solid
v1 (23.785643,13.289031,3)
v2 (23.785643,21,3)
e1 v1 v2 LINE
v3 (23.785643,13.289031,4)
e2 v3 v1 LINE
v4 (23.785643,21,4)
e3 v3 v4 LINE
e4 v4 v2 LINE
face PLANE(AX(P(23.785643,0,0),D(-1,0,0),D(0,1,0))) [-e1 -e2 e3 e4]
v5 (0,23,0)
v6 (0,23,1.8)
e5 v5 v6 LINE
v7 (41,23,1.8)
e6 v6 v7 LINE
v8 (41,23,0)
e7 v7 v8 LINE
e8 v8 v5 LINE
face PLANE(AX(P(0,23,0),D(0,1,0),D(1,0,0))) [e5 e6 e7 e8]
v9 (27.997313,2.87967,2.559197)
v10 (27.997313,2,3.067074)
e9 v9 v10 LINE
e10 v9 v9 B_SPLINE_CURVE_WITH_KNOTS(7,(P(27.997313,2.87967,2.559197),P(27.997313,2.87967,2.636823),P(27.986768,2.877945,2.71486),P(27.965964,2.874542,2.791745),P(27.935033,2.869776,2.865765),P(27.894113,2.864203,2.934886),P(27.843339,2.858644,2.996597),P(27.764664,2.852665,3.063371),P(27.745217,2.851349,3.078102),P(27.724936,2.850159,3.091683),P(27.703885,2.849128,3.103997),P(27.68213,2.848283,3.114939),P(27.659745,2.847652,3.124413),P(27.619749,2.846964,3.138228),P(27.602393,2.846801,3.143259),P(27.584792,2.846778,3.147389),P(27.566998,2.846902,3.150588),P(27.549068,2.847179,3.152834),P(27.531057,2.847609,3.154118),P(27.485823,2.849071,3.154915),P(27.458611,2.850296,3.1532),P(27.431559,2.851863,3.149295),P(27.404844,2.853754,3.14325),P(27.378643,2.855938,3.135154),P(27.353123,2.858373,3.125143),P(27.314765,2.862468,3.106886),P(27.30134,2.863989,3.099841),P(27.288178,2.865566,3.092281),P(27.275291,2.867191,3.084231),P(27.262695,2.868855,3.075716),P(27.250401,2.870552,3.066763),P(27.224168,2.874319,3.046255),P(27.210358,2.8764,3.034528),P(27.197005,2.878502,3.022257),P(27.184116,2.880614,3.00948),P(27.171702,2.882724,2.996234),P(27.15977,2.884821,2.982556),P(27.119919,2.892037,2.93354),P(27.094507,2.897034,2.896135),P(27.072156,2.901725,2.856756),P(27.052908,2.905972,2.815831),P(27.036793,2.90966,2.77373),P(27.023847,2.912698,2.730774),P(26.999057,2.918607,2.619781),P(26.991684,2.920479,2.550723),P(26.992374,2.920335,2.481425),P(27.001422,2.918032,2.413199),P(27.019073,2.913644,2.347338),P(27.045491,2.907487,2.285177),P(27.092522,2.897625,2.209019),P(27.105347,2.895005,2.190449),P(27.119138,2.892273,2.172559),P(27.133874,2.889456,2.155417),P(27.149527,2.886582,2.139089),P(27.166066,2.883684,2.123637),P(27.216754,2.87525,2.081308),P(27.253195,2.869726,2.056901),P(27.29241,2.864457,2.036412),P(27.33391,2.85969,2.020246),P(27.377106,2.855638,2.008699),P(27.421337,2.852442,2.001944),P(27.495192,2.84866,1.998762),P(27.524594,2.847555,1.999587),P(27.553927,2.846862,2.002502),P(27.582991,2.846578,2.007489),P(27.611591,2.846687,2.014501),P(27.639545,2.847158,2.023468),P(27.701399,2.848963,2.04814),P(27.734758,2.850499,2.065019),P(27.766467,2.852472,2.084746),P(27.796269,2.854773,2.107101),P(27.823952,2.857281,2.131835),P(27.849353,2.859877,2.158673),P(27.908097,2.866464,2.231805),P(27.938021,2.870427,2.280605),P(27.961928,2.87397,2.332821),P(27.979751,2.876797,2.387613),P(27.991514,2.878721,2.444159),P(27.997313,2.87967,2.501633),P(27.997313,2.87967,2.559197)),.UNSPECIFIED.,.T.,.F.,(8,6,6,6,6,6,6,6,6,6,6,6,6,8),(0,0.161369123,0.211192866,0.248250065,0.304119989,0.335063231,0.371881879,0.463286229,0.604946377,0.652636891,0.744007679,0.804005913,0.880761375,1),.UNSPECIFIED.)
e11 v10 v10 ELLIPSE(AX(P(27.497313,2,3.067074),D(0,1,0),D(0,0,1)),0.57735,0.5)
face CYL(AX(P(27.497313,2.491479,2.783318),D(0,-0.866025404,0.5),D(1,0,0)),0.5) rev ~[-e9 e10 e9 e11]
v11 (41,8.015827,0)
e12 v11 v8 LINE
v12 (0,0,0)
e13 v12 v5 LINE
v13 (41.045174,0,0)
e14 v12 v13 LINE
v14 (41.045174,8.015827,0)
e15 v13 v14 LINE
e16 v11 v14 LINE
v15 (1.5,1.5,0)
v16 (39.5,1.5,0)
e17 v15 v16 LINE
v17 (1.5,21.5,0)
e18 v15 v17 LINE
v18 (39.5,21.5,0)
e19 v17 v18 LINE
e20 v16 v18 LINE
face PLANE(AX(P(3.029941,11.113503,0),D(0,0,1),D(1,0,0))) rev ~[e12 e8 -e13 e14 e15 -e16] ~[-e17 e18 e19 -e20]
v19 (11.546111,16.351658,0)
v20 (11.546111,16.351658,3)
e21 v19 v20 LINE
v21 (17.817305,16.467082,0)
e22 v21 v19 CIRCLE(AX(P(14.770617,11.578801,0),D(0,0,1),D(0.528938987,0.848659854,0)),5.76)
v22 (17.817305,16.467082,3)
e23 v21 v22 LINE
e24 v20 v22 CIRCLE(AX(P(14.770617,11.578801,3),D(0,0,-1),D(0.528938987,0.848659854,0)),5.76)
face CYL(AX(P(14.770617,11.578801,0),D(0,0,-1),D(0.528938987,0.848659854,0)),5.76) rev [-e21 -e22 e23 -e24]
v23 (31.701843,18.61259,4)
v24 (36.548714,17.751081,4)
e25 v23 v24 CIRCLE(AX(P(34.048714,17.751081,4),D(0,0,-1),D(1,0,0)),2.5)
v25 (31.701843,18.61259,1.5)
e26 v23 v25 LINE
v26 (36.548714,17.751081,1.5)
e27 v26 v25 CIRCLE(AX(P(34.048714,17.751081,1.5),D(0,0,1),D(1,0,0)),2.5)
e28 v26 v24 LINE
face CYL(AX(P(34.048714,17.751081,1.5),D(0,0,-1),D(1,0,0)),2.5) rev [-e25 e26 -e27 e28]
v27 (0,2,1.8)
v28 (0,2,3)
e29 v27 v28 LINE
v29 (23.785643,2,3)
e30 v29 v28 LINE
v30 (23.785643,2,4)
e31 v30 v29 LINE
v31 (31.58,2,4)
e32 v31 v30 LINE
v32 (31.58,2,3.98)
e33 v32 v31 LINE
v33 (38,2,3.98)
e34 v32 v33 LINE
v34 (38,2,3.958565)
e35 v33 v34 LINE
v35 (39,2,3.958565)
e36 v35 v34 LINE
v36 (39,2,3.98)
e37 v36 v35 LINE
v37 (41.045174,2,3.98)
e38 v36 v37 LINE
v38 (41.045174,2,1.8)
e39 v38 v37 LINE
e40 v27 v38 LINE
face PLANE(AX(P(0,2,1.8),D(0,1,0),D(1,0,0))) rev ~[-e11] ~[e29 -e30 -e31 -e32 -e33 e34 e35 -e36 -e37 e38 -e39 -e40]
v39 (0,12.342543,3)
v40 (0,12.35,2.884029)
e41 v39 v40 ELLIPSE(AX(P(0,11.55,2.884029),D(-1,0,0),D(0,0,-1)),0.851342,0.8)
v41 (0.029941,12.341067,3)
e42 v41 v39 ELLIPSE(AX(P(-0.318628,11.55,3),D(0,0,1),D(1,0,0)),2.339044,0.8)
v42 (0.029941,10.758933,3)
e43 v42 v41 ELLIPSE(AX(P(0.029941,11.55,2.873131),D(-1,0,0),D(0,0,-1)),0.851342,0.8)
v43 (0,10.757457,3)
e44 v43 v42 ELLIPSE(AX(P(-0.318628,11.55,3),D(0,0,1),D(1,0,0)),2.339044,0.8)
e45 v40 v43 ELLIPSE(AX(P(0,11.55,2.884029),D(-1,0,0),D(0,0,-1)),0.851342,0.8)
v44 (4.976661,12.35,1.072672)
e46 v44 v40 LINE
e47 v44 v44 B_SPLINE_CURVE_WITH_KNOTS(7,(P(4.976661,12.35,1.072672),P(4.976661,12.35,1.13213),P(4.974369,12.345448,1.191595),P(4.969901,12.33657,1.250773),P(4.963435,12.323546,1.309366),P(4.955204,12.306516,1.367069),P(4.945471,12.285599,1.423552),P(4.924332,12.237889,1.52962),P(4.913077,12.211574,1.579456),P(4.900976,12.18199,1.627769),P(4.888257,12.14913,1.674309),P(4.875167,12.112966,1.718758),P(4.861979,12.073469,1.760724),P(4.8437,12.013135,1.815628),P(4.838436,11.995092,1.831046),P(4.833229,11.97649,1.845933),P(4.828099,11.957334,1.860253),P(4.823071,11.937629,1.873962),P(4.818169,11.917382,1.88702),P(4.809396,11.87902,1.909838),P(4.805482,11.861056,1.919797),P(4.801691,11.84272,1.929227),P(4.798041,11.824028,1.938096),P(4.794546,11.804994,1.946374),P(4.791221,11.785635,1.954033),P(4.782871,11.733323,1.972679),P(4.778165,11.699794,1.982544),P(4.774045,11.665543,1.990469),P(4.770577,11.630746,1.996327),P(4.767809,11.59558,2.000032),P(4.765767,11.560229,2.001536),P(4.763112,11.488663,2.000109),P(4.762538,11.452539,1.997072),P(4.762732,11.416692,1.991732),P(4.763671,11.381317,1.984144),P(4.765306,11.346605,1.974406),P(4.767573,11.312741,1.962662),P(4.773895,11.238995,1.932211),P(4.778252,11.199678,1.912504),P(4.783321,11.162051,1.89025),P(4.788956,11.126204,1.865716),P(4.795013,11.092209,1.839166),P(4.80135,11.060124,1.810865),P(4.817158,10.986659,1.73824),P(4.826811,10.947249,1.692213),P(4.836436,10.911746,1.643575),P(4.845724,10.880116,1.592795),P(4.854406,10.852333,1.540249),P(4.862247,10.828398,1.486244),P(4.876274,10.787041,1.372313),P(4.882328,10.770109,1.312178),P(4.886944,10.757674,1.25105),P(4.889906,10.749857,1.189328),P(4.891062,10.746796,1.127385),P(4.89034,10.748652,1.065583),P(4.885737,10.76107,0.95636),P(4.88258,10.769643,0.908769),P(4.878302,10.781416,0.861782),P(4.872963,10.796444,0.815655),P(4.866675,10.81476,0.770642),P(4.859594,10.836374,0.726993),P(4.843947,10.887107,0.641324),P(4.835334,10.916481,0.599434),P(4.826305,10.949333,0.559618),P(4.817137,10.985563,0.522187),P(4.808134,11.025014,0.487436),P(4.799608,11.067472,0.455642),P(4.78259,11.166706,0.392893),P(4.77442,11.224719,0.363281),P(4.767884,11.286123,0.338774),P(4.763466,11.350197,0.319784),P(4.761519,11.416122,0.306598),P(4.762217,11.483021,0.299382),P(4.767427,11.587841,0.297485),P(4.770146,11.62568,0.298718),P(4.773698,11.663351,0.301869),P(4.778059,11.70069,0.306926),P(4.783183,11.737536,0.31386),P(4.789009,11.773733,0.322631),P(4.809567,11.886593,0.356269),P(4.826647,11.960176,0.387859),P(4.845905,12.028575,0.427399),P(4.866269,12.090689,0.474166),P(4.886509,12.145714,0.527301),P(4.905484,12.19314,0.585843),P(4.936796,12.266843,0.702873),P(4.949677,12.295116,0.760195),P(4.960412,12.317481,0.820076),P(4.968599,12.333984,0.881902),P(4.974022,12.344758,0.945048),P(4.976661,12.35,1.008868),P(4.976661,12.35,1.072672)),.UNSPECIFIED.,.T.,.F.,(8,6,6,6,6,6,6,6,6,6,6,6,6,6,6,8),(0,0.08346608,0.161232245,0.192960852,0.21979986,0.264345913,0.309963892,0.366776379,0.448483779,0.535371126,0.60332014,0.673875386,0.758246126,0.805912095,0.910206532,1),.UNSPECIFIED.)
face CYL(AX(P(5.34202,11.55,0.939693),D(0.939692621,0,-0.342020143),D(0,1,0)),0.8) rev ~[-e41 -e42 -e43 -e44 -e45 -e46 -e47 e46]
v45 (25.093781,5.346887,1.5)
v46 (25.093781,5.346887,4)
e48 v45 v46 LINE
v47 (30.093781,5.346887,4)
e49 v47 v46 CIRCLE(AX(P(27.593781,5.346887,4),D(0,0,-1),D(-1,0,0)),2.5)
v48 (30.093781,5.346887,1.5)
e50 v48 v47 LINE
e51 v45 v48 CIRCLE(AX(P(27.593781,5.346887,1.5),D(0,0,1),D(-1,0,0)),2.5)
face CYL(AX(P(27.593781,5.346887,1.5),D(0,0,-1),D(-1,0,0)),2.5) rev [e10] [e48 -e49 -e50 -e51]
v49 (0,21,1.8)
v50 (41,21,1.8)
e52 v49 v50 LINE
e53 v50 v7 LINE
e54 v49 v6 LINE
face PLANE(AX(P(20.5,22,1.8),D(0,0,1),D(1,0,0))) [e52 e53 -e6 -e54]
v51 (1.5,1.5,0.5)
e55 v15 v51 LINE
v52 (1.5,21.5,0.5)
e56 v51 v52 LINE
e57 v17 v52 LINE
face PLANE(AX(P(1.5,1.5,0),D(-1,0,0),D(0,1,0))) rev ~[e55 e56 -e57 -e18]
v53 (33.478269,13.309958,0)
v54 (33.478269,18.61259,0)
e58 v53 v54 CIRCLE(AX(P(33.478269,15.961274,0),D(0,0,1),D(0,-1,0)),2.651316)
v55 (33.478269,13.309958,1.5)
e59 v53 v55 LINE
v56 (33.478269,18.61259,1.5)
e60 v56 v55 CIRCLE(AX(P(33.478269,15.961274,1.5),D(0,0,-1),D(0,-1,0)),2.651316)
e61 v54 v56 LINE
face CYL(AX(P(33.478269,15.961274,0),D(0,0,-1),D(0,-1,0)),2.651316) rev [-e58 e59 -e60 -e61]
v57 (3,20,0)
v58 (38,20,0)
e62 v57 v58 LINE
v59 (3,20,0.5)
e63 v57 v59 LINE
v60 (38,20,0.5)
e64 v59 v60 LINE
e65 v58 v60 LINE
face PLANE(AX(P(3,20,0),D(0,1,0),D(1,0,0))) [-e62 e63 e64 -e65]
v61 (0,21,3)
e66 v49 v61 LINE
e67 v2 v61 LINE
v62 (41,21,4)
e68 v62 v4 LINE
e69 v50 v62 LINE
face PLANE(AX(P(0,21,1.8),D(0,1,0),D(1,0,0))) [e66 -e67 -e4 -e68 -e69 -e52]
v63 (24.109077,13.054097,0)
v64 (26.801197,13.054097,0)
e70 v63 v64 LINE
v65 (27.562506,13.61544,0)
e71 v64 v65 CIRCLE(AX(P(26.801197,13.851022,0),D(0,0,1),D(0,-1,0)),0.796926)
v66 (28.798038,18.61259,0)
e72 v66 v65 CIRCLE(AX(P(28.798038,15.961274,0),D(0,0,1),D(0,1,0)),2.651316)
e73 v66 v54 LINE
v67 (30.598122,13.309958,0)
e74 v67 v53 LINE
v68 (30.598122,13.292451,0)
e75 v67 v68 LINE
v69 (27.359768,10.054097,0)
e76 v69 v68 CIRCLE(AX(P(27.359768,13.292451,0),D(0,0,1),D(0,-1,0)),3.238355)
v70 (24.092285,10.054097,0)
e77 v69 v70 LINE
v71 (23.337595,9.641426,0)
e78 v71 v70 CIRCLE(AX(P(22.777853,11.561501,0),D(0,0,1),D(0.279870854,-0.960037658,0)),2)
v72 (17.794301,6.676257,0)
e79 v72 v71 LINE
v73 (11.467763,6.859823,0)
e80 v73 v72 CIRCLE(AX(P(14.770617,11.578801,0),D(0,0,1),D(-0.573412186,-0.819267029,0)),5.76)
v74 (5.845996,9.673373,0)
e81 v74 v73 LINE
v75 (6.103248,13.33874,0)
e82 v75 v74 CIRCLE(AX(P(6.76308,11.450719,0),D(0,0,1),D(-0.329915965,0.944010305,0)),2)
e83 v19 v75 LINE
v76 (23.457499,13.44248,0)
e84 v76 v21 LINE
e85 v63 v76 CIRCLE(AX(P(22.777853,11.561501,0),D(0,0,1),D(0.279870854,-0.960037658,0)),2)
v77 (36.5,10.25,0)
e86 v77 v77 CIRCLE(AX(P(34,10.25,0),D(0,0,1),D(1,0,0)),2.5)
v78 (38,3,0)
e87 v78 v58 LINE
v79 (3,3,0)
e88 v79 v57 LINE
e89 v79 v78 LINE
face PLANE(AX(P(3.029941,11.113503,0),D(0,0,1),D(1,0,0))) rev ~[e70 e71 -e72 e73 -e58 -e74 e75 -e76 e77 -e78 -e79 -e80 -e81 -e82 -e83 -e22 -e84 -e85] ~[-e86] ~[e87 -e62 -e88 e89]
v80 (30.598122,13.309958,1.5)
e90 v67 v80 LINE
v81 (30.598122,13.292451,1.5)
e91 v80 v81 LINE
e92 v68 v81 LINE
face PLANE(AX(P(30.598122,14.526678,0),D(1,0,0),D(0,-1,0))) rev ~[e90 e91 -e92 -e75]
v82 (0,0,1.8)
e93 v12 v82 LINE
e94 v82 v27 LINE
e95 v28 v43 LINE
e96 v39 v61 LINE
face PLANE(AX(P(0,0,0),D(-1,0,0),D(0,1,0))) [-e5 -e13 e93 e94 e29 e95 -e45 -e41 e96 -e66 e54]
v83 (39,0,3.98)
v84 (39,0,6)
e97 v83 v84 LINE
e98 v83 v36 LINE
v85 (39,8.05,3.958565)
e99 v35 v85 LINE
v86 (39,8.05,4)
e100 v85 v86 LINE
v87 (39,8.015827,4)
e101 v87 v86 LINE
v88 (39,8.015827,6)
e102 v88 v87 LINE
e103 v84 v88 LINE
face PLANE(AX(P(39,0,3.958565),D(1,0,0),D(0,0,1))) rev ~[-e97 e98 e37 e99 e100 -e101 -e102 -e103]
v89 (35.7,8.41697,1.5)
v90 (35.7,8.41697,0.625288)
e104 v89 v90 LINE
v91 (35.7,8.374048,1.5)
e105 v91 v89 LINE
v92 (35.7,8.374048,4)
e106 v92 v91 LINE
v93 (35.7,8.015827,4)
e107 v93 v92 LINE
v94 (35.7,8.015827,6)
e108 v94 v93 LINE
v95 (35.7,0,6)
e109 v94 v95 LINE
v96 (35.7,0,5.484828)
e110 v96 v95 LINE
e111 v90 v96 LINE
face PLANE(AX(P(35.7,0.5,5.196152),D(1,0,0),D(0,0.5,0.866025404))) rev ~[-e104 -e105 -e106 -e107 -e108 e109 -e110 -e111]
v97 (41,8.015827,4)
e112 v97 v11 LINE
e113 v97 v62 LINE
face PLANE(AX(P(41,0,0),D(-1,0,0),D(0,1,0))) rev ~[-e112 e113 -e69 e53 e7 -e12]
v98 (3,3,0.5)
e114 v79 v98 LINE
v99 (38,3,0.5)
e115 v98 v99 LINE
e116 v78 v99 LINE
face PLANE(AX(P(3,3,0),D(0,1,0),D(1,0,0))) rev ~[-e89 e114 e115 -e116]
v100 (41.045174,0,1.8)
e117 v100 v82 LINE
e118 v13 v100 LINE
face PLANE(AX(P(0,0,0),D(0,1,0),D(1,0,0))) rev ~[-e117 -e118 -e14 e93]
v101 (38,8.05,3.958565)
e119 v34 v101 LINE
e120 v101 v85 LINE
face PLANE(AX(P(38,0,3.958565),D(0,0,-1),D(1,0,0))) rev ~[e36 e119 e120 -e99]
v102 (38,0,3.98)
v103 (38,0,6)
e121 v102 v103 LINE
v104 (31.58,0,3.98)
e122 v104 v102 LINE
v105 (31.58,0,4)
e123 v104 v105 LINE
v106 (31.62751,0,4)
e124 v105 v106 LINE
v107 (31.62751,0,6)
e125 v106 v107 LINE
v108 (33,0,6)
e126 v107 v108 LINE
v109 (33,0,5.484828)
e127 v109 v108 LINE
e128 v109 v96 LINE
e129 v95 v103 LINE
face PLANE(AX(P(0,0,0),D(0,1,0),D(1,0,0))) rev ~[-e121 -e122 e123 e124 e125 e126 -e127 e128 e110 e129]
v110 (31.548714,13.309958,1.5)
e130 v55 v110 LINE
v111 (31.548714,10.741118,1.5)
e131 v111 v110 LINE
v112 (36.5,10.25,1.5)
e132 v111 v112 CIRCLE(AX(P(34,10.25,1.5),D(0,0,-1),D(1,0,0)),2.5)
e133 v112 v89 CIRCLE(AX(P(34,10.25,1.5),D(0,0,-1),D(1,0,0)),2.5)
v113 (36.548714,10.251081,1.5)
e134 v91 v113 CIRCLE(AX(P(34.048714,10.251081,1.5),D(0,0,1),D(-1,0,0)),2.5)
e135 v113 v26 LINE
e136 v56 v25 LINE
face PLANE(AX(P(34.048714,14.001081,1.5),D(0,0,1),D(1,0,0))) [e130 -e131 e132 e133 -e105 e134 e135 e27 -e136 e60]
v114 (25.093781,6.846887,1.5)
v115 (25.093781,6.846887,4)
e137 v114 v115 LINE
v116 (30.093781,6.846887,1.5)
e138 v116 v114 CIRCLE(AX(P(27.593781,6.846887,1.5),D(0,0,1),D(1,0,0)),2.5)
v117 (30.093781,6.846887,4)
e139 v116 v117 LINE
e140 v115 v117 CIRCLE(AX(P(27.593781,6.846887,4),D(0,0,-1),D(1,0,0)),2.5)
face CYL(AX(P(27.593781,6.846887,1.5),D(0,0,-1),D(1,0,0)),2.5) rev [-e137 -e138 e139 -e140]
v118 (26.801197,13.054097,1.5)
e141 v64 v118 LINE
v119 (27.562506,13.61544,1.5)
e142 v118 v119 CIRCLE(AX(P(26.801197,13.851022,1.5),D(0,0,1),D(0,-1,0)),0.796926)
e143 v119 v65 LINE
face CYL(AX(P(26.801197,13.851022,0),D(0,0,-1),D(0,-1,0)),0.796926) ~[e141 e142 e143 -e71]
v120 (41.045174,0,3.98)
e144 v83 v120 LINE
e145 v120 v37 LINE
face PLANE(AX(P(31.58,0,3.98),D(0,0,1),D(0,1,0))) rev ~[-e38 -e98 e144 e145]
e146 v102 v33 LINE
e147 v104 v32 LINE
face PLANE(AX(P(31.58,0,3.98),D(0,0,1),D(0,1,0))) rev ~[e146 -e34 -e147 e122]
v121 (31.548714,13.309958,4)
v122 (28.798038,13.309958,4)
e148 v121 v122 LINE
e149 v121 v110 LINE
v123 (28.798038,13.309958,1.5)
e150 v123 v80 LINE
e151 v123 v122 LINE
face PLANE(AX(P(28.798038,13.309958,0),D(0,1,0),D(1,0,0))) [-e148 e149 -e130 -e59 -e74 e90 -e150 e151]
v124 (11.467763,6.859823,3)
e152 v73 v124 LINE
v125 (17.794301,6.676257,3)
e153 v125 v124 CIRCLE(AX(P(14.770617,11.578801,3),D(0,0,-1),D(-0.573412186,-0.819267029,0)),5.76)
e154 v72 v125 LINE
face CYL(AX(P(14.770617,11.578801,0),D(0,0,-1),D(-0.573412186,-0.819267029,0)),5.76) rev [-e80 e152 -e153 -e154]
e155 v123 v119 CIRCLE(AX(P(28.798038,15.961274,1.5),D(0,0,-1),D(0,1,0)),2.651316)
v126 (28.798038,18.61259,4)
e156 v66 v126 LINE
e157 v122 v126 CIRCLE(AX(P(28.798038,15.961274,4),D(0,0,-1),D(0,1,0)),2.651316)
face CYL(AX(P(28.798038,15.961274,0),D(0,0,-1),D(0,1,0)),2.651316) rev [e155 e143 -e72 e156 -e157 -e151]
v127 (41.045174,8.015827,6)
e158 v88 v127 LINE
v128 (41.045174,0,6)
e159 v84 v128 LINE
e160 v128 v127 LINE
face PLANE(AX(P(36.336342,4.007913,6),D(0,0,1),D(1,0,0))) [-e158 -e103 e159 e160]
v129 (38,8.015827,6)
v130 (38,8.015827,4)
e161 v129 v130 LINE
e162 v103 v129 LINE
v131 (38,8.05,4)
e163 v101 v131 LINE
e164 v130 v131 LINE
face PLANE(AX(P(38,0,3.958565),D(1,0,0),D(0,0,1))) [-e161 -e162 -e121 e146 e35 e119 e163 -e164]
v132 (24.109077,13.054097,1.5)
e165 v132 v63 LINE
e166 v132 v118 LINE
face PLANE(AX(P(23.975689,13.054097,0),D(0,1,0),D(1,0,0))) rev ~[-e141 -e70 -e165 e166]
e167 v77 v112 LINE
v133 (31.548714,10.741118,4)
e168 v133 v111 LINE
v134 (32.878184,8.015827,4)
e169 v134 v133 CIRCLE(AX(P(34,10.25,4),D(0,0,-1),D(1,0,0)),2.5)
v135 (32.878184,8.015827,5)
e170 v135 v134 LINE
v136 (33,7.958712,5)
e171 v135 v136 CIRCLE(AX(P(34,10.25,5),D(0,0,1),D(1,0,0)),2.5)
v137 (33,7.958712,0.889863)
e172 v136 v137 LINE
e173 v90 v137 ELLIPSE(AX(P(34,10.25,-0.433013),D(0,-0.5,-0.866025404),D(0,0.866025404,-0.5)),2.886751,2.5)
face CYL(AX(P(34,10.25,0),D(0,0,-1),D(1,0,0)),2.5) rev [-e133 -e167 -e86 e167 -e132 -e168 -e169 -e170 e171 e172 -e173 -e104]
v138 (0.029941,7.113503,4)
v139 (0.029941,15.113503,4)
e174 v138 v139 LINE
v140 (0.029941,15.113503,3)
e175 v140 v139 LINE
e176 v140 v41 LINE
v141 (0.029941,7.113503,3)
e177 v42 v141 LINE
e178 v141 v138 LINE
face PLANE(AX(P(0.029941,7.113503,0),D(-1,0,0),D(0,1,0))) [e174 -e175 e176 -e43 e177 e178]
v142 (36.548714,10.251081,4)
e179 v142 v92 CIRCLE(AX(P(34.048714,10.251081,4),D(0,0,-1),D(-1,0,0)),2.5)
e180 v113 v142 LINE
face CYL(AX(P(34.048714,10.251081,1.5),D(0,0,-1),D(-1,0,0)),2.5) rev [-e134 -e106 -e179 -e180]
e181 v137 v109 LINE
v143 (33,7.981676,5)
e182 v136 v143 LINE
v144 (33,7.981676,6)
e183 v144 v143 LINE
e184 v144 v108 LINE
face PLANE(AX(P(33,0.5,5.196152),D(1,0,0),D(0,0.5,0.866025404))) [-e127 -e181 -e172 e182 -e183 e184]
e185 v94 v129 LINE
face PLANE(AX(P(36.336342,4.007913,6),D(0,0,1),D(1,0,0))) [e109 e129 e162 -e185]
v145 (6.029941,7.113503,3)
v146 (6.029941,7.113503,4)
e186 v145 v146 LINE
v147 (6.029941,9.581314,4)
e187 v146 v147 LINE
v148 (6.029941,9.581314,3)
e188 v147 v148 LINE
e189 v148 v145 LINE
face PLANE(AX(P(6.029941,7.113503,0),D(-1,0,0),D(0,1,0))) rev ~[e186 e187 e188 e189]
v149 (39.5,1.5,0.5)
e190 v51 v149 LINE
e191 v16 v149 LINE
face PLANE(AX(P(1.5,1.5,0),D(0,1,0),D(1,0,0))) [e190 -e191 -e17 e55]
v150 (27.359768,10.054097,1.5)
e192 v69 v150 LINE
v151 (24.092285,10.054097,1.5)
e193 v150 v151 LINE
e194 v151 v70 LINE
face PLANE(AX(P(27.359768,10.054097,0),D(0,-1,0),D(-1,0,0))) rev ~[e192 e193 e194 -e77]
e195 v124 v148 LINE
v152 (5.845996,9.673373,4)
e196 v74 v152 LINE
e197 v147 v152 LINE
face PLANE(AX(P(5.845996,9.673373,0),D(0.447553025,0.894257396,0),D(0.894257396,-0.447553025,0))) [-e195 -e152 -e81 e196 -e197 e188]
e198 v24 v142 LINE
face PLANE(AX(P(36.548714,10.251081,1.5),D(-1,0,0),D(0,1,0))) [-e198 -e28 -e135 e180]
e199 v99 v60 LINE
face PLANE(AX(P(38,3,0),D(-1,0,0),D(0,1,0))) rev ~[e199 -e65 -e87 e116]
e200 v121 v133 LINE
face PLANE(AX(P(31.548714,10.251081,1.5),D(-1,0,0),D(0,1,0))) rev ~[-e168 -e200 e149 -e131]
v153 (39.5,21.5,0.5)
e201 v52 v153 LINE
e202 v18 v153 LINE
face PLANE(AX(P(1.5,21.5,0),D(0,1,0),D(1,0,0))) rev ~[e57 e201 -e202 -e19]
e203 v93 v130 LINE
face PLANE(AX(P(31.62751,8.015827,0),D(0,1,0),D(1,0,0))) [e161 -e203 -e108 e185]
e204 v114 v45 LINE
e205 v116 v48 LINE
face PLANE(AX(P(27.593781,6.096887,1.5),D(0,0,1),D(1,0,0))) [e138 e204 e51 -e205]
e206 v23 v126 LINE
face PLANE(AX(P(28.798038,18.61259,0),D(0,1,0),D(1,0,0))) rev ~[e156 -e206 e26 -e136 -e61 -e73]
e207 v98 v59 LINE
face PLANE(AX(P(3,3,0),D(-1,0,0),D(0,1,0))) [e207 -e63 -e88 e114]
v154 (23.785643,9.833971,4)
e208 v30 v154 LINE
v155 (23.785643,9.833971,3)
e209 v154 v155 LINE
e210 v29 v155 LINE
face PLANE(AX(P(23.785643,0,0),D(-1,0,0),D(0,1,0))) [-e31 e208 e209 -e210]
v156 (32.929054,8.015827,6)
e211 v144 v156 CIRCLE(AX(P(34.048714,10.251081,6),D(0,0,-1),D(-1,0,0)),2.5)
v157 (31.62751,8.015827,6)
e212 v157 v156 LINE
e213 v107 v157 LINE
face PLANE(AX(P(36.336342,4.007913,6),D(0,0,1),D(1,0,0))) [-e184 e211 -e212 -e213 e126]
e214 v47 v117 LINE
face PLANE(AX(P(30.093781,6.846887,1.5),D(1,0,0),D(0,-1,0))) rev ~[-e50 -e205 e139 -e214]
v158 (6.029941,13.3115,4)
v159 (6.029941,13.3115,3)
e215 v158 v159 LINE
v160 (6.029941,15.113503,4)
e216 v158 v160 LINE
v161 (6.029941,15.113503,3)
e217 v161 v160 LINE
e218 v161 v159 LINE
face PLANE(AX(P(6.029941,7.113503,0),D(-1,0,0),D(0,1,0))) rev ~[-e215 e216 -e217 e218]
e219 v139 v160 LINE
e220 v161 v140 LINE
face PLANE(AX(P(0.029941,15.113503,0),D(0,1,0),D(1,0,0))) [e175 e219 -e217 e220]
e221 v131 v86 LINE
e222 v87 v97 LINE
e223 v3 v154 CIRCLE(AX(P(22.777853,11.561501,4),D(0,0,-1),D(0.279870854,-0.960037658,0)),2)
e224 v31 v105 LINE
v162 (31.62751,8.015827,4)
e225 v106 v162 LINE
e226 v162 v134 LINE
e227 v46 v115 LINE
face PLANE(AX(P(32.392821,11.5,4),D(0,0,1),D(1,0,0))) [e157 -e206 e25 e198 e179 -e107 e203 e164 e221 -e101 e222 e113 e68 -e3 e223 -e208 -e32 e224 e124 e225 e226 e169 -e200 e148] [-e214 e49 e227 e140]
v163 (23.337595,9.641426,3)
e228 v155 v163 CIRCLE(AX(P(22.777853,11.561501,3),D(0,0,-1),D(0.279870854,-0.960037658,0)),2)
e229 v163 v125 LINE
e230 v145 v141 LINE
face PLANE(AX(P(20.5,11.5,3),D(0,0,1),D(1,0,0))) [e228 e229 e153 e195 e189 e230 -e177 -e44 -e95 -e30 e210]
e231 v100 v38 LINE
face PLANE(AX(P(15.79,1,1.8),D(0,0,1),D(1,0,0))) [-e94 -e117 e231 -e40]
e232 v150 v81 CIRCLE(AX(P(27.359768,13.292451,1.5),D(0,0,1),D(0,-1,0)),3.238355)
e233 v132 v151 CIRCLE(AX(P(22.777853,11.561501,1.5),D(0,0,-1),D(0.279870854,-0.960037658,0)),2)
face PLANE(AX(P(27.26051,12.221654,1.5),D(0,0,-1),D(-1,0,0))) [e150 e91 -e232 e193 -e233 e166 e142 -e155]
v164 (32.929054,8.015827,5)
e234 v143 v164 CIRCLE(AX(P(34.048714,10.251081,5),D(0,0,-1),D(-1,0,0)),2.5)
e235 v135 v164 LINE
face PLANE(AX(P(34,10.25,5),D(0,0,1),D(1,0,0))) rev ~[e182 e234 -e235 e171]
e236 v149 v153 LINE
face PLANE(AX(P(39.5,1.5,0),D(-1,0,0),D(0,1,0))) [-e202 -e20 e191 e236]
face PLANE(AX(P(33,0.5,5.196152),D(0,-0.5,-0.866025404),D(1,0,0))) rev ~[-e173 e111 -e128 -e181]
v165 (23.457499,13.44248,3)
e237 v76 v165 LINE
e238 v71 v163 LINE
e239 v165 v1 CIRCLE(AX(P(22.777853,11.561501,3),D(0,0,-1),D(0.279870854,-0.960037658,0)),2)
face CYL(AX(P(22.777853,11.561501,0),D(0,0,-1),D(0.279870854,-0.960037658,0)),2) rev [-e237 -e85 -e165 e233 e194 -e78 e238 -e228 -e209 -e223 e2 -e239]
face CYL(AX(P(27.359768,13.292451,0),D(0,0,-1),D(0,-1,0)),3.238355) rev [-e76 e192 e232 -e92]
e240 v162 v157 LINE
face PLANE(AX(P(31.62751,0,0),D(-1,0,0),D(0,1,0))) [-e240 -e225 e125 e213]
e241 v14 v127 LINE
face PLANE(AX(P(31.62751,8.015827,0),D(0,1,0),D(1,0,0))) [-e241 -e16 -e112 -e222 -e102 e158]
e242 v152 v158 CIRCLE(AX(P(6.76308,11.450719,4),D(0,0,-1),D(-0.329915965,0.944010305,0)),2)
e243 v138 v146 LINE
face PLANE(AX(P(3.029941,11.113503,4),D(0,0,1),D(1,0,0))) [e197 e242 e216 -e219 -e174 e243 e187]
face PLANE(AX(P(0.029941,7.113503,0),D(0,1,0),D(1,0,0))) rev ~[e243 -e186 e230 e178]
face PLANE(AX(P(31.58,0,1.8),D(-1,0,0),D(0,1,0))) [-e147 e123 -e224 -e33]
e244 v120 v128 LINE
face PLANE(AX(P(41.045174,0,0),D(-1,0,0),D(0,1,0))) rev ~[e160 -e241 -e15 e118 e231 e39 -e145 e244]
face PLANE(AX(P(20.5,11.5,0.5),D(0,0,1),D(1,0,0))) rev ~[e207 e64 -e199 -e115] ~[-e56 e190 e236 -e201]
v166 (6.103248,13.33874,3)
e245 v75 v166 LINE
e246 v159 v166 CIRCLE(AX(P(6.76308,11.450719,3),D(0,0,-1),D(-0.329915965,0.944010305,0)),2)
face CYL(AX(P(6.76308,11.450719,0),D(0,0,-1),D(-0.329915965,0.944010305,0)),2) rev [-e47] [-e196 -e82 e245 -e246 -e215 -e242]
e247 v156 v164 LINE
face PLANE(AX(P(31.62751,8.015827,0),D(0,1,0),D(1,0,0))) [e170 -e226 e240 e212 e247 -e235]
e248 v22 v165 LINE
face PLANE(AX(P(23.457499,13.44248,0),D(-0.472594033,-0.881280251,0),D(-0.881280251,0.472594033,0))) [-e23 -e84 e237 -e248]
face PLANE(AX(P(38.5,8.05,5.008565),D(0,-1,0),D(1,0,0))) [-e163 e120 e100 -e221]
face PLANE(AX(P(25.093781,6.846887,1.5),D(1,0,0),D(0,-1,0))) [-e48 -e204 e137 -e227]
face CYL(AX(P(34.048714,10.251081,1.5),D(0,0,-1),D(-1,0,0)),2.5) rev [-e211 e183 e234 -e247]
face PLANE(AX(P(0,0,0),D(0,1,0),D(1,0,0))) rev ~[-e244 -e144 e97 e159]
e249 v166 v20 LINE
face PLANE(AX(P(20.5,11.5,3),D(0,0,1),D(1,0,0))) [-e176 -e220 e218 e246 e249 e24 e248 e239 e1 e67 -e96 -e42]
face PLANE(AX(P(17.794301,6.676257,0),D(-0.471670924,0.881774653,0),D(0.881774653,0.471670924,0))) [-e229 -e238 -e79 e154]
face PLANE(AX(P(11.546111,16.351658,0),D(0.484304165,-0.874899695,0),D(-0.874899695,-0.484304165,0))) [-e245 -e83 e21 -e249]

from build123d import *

# Parameters (mm, degrees)
SKETCH008_W          = 9.417664
SKETCH008_H          = 8.015827
PAD_DEPTH            = 6
SKETCH007_W          = 17.214357
SKETCH007_H          = 23
PAD001_DEPTH         = 4
SKETCH_W             = 41
SKETCH_H             = 23
PAD002_DEPTH         = 3
SKETCH009_W          = 6
SKETCH009_H          = 8
PAD003_DEPTH         = 4
POCKET_DEPTH         = 1.5
POCKET001_DEPTH      = 5
POCKET002_DEPTH      = 5
POCKET003_DEPTH      = 5
POCKET004_DEPTH      = 5
SKETCH004_R          = 2.5
POCKET005_DEPTH      = 5
SKETCH010_W          = 41
SKETCH010_H          = 2
SKETCH010_W_2        = 31.58
POCKET006_DEPTH      = 5
SKETCH013_W          = 2
SKETCH013_H          = 2.18
POCKET007_DEPTH      = 10
SKETCH014_W          = 2.7
SKETCH014_H          = 5
POCKET008_DEPTH      = 10
POCKET008_DEPTH_BACK = 10
SKETCH015_W          = 1
SKETCH015_H          = 2.1
POCKET009_DEPTH      = 8.05
SKETCH012_R          = 0.8
POCKET010_DEPTH      = 8
SKETCH016_R          = 0.5
POCKET011_DEPTH      = 1
SKETCH017_W          = 38
SKETCH017_H          = 20
SKETCH017_W_2        = 35
SKETCH017_H_2        = 17
POCKET012_DEPTH      = 0.5


with BuildPart() as part:
    # Sketch008 → Pad (new body)
    with BuildSketch(Plane.XY):
        with Locations((36.336342, 4.0079135)):
            Rectangle(SKETCH008_W, SKETCH008_H)
    extrude(amount=PAD_DEPTH)

    # Sketch007 → Pad001 (join)
    with BuildSketch(Plane.XY):
        with Locations((32.3928215, 11.5)):
            Rectangle(SKETCH007_W, SKETCH007_H)
    extrude(amount=PAD001_DEPTH)

    # Sketch → Pad002 (join)
    with BuildSketch(Plane.XY):
        with Locations((20.5, 11.5)):
            Rectangle(SKETCH_W, SKETCH_H)
    extrude(amount=PAD002_DEPTH)

    # Sketch009 → Pad003 (join)
    with BuildSketch(Plane.XY):
        with Locations((3.029941472, 11.1135029832)):
            Rectangle(SKETCH009_W, SKETCH009_H)
    extrude(amount=PAD003_DEPTH)

    # Sketch003 → Pocket (cut)
    with BuildSketch(Plane.XY):
        with BuildLine():
            Line((23.975689, 13.0540965715), (26.8011965151, 13.0540965715))
            ThreePointArc((26.8011965151, 13.0540965715), (27.3647082361, 13.2875107689), (27.5981224335, 13.8510224899))
            Line((27.5981224335, 13.8510224899), (27.5981224335, 14.526678))
            Line((27.5981224335, 14.526678), (30.5981224335, 14.526678))
            Line((30.5981224335, 14.526678), (30.5981224335, 13.2924514667))
            ThreePointArc((27.3597675383, 10.0540965715), (29.6496302446, 11.0025887604), (30.5981224335, 13.2924514667))
            Line((27.3597675383, 10.0540965715), (23.975689, 10.0540965715))
            Line((23.975689, 10.0540965715), (23.975689, 13.0540965715))
        make_face()
    extrude(amount=POCKET_DEPTH, mode=Mode.SUBTRACT)

    # Sketch001 → Pocket001 (cut)
    with BuildSketch(Plane.XY):
        with BuildLine():
            ThreePointArc((6.1032483008, 13.3387395872), (4.7679879703, 11.5907435275), (5.8459964121, 9.6733734082))
            Line((5.8459964121, 9.6733734082), (11.4677626675, 6.8598227367))
            ThreePointArc((11.4677626675, 6.8598227367), (14.6035600083, 5.8212239037), (17.794301339, 6.6762573881))
            Line((17.794301339, 6.6762573881), (23.3375945955, 9.6414256942))
            ThreePointArc((23.3375945955, 9.6414256942), (24.7768585387, 11.4984422833), (23.4574990247, 13.4424797786))
            Line((23.4574990247, 13.4424797786), (17.8173054197, 16.4670815869))
            ThreePointArc((17.8173054197, 16.4670815869), (14.6646196223, 17.3378254465), (11.5461110533, 16.3516576556))
            Line((11.5461110533, 16.3516576556), (6.1032483008, 13.3387395872))
        make_face()
    extrude(amount=POCKET001_DEPTH, mode=Mode.SUBTRACT)

    # Sketch006 → Pocket002 (cut)
    with BuildSketch(Plane.XY.offset(1.5)):
        with BuildLine():
            ThreePointArc((30.093781, 6.846887), (27.593781, 9.346887), (25.093781, 6.846887))
            Line((25.093781, 6.846887), (25.093781, 5.346887))
            ThreePointArc((25.093781, 5.346887), (27.593781, 2.846887), (30.093781, 5.346887))
            Line((30.093781, 6.846887), (30.093781, 5.346887))
        make_face()
    extrude(amount=POCKET002_DEPTH, mode=Mode.SUBTRACT)

    # Sketch005 → Pocket003 (cut)
    with BuildSketch(Plane.XY.offset(1.5)):
        with BuildLine():
            ThreePointArc((31.548714, 10.251081), (34.048714, 7.751081), (36.548714, 10.251081))
            Line((36.548714, 10.251081), (36.548714, 17.751081))
            ThreePointArc((36.548714, 17.751081), (34.048714, 20.251081), (31.548714, 17.751081))
            Line((31.548714, 10.251081), (31.548714, 17.751081))
        make_face()
    extrude(amount=POCKET003_DEPTH, mode=Mode.SUBTRACT)

    # Sketch002 → Pocket004 (cut)
    with BuildSketch(Plane.XY):
        with BuildLine():
            ThreePointArc((28.798038, 18.6125900268), (26.1467217956, 15.9612738224), (28.798038, 13.3099576181))
            Line((28.798038, 13.309957618), (33.4782685239, 13.309957618))
            ThreePointArc((33.4782685239, 13.3099576181), (36.1295847282, 15.9612738224), (33.4782685239, 18.6125900268))
            Line((28.798038, 18.6125900268), (33.4782685239, 18.6125900268))
        make_face()
    extrude(amount=POCKET004_DEPTH, mode=Mode.SUBTRACT)

    # Sketch004 → Pocket005 (cut)
    with BuildSketch(Plane.XY):
        with Locations((34, 10.25)):
            Circle(SKETCH004_R)
    extrude(amount=POCKET005_DEPTH, mode=Mode.SUBTRACT)

    # Sketch010 → Pocket006 (cut)
    with BuildSketch(Plane.XY.offset(1.8)):
        with Locations((20.5, 22)):
            Rectangle(SKETCH010_W, SKETCH010_H)
        with Locations((15.79, 1)):
            Rectangle(SKETCH010_W_2, SKETCH010_H)
    extrude(amount=POCKET006_DEPTH, mode=Mode.SUBTRACT)

    # Sketch013 → Pocket007 (cut)
    with BuildSketch(Plane.YZ.offset(31.58)):
        with Locations((1, 2.89)):
            Rectangle(SKETCH013_W, SKETCH013_H)
    extrude(amount=POCKET007_DEPTH, mode=Mode.SUBTRACT)

    # Sketch014 → Pocket008 (cut, two sides)
    with BuildSketch(Plane(origin=(0, -2.5, 0), x_dir=(1, 0, 0), z_dir=(0, -0.8660254038, 0.5))) as pocket008_sk:
        with Locations((34.35, 8.5)):
            Rectangle(SKETCH014_W, SKETCH014_H)
    extrude(amount=-POCKET008_DEPTH, mode=Mode.SUBTRACT)
    extrude(pocket008_sk.sketch, amount=POCKET008_DEPTH_BACK, mode=Mode.SUBTRACT)

    # Sketch015 → Pocket009 (cut)
    with BuildSketch(Plane.XZ):
        with Locations((38.5, 5.0085653562)):
            Rectangle(SKETCH015_W, SKETCH015_H)
    extrude(amount=-POCKET009_DEPTH, mode=Mode.SUBTRACT)

    # Sketch012 → Pocket010 (cut)
    with BuildSketch(Plane(origin=(5, 0, 0), x_dir=(0, 1, 0), z_dir=(0.9396926208, 0, -0.3420201433))):
        with Locations((11.55, 1)):
            Circle(SKETCH012_R)
    extrude(amount=-POCKET010_DEPTH, mode=Mode.SUBTRACT)

    # Sketch016 → Pocket011 (cut, symmetric)
    with BuildSketch(Plane(origin=(0, 1, 0.2), x_dir=(1, 0, 0), z_dir=(0, -0.8660254038, 0.5))):
        with Locations((27.497313, 2.982959)):
            Circle(SKETCH016_R)
    extrude(amount=POCKET011_DEPTH, both=True, mode=Mode.SUBTRACT)

    # Sketch017 → Pocket012 (cut)
    with BuildSketch(Plane.XY):
        with Locations((20.5, 11.5)):
            Rectangle(SKETCH017_W, SKETCH017_H)
        with Locations((20.5, 11.5)):
            Rectangle(SKETCH017_W_2, SKETCH017_H_2, mode=Mode.SUBTRACT)
    extrude(amount=POCKET012_DEPTH, mode=Mode.SUBTRACT)


solid = part.part
